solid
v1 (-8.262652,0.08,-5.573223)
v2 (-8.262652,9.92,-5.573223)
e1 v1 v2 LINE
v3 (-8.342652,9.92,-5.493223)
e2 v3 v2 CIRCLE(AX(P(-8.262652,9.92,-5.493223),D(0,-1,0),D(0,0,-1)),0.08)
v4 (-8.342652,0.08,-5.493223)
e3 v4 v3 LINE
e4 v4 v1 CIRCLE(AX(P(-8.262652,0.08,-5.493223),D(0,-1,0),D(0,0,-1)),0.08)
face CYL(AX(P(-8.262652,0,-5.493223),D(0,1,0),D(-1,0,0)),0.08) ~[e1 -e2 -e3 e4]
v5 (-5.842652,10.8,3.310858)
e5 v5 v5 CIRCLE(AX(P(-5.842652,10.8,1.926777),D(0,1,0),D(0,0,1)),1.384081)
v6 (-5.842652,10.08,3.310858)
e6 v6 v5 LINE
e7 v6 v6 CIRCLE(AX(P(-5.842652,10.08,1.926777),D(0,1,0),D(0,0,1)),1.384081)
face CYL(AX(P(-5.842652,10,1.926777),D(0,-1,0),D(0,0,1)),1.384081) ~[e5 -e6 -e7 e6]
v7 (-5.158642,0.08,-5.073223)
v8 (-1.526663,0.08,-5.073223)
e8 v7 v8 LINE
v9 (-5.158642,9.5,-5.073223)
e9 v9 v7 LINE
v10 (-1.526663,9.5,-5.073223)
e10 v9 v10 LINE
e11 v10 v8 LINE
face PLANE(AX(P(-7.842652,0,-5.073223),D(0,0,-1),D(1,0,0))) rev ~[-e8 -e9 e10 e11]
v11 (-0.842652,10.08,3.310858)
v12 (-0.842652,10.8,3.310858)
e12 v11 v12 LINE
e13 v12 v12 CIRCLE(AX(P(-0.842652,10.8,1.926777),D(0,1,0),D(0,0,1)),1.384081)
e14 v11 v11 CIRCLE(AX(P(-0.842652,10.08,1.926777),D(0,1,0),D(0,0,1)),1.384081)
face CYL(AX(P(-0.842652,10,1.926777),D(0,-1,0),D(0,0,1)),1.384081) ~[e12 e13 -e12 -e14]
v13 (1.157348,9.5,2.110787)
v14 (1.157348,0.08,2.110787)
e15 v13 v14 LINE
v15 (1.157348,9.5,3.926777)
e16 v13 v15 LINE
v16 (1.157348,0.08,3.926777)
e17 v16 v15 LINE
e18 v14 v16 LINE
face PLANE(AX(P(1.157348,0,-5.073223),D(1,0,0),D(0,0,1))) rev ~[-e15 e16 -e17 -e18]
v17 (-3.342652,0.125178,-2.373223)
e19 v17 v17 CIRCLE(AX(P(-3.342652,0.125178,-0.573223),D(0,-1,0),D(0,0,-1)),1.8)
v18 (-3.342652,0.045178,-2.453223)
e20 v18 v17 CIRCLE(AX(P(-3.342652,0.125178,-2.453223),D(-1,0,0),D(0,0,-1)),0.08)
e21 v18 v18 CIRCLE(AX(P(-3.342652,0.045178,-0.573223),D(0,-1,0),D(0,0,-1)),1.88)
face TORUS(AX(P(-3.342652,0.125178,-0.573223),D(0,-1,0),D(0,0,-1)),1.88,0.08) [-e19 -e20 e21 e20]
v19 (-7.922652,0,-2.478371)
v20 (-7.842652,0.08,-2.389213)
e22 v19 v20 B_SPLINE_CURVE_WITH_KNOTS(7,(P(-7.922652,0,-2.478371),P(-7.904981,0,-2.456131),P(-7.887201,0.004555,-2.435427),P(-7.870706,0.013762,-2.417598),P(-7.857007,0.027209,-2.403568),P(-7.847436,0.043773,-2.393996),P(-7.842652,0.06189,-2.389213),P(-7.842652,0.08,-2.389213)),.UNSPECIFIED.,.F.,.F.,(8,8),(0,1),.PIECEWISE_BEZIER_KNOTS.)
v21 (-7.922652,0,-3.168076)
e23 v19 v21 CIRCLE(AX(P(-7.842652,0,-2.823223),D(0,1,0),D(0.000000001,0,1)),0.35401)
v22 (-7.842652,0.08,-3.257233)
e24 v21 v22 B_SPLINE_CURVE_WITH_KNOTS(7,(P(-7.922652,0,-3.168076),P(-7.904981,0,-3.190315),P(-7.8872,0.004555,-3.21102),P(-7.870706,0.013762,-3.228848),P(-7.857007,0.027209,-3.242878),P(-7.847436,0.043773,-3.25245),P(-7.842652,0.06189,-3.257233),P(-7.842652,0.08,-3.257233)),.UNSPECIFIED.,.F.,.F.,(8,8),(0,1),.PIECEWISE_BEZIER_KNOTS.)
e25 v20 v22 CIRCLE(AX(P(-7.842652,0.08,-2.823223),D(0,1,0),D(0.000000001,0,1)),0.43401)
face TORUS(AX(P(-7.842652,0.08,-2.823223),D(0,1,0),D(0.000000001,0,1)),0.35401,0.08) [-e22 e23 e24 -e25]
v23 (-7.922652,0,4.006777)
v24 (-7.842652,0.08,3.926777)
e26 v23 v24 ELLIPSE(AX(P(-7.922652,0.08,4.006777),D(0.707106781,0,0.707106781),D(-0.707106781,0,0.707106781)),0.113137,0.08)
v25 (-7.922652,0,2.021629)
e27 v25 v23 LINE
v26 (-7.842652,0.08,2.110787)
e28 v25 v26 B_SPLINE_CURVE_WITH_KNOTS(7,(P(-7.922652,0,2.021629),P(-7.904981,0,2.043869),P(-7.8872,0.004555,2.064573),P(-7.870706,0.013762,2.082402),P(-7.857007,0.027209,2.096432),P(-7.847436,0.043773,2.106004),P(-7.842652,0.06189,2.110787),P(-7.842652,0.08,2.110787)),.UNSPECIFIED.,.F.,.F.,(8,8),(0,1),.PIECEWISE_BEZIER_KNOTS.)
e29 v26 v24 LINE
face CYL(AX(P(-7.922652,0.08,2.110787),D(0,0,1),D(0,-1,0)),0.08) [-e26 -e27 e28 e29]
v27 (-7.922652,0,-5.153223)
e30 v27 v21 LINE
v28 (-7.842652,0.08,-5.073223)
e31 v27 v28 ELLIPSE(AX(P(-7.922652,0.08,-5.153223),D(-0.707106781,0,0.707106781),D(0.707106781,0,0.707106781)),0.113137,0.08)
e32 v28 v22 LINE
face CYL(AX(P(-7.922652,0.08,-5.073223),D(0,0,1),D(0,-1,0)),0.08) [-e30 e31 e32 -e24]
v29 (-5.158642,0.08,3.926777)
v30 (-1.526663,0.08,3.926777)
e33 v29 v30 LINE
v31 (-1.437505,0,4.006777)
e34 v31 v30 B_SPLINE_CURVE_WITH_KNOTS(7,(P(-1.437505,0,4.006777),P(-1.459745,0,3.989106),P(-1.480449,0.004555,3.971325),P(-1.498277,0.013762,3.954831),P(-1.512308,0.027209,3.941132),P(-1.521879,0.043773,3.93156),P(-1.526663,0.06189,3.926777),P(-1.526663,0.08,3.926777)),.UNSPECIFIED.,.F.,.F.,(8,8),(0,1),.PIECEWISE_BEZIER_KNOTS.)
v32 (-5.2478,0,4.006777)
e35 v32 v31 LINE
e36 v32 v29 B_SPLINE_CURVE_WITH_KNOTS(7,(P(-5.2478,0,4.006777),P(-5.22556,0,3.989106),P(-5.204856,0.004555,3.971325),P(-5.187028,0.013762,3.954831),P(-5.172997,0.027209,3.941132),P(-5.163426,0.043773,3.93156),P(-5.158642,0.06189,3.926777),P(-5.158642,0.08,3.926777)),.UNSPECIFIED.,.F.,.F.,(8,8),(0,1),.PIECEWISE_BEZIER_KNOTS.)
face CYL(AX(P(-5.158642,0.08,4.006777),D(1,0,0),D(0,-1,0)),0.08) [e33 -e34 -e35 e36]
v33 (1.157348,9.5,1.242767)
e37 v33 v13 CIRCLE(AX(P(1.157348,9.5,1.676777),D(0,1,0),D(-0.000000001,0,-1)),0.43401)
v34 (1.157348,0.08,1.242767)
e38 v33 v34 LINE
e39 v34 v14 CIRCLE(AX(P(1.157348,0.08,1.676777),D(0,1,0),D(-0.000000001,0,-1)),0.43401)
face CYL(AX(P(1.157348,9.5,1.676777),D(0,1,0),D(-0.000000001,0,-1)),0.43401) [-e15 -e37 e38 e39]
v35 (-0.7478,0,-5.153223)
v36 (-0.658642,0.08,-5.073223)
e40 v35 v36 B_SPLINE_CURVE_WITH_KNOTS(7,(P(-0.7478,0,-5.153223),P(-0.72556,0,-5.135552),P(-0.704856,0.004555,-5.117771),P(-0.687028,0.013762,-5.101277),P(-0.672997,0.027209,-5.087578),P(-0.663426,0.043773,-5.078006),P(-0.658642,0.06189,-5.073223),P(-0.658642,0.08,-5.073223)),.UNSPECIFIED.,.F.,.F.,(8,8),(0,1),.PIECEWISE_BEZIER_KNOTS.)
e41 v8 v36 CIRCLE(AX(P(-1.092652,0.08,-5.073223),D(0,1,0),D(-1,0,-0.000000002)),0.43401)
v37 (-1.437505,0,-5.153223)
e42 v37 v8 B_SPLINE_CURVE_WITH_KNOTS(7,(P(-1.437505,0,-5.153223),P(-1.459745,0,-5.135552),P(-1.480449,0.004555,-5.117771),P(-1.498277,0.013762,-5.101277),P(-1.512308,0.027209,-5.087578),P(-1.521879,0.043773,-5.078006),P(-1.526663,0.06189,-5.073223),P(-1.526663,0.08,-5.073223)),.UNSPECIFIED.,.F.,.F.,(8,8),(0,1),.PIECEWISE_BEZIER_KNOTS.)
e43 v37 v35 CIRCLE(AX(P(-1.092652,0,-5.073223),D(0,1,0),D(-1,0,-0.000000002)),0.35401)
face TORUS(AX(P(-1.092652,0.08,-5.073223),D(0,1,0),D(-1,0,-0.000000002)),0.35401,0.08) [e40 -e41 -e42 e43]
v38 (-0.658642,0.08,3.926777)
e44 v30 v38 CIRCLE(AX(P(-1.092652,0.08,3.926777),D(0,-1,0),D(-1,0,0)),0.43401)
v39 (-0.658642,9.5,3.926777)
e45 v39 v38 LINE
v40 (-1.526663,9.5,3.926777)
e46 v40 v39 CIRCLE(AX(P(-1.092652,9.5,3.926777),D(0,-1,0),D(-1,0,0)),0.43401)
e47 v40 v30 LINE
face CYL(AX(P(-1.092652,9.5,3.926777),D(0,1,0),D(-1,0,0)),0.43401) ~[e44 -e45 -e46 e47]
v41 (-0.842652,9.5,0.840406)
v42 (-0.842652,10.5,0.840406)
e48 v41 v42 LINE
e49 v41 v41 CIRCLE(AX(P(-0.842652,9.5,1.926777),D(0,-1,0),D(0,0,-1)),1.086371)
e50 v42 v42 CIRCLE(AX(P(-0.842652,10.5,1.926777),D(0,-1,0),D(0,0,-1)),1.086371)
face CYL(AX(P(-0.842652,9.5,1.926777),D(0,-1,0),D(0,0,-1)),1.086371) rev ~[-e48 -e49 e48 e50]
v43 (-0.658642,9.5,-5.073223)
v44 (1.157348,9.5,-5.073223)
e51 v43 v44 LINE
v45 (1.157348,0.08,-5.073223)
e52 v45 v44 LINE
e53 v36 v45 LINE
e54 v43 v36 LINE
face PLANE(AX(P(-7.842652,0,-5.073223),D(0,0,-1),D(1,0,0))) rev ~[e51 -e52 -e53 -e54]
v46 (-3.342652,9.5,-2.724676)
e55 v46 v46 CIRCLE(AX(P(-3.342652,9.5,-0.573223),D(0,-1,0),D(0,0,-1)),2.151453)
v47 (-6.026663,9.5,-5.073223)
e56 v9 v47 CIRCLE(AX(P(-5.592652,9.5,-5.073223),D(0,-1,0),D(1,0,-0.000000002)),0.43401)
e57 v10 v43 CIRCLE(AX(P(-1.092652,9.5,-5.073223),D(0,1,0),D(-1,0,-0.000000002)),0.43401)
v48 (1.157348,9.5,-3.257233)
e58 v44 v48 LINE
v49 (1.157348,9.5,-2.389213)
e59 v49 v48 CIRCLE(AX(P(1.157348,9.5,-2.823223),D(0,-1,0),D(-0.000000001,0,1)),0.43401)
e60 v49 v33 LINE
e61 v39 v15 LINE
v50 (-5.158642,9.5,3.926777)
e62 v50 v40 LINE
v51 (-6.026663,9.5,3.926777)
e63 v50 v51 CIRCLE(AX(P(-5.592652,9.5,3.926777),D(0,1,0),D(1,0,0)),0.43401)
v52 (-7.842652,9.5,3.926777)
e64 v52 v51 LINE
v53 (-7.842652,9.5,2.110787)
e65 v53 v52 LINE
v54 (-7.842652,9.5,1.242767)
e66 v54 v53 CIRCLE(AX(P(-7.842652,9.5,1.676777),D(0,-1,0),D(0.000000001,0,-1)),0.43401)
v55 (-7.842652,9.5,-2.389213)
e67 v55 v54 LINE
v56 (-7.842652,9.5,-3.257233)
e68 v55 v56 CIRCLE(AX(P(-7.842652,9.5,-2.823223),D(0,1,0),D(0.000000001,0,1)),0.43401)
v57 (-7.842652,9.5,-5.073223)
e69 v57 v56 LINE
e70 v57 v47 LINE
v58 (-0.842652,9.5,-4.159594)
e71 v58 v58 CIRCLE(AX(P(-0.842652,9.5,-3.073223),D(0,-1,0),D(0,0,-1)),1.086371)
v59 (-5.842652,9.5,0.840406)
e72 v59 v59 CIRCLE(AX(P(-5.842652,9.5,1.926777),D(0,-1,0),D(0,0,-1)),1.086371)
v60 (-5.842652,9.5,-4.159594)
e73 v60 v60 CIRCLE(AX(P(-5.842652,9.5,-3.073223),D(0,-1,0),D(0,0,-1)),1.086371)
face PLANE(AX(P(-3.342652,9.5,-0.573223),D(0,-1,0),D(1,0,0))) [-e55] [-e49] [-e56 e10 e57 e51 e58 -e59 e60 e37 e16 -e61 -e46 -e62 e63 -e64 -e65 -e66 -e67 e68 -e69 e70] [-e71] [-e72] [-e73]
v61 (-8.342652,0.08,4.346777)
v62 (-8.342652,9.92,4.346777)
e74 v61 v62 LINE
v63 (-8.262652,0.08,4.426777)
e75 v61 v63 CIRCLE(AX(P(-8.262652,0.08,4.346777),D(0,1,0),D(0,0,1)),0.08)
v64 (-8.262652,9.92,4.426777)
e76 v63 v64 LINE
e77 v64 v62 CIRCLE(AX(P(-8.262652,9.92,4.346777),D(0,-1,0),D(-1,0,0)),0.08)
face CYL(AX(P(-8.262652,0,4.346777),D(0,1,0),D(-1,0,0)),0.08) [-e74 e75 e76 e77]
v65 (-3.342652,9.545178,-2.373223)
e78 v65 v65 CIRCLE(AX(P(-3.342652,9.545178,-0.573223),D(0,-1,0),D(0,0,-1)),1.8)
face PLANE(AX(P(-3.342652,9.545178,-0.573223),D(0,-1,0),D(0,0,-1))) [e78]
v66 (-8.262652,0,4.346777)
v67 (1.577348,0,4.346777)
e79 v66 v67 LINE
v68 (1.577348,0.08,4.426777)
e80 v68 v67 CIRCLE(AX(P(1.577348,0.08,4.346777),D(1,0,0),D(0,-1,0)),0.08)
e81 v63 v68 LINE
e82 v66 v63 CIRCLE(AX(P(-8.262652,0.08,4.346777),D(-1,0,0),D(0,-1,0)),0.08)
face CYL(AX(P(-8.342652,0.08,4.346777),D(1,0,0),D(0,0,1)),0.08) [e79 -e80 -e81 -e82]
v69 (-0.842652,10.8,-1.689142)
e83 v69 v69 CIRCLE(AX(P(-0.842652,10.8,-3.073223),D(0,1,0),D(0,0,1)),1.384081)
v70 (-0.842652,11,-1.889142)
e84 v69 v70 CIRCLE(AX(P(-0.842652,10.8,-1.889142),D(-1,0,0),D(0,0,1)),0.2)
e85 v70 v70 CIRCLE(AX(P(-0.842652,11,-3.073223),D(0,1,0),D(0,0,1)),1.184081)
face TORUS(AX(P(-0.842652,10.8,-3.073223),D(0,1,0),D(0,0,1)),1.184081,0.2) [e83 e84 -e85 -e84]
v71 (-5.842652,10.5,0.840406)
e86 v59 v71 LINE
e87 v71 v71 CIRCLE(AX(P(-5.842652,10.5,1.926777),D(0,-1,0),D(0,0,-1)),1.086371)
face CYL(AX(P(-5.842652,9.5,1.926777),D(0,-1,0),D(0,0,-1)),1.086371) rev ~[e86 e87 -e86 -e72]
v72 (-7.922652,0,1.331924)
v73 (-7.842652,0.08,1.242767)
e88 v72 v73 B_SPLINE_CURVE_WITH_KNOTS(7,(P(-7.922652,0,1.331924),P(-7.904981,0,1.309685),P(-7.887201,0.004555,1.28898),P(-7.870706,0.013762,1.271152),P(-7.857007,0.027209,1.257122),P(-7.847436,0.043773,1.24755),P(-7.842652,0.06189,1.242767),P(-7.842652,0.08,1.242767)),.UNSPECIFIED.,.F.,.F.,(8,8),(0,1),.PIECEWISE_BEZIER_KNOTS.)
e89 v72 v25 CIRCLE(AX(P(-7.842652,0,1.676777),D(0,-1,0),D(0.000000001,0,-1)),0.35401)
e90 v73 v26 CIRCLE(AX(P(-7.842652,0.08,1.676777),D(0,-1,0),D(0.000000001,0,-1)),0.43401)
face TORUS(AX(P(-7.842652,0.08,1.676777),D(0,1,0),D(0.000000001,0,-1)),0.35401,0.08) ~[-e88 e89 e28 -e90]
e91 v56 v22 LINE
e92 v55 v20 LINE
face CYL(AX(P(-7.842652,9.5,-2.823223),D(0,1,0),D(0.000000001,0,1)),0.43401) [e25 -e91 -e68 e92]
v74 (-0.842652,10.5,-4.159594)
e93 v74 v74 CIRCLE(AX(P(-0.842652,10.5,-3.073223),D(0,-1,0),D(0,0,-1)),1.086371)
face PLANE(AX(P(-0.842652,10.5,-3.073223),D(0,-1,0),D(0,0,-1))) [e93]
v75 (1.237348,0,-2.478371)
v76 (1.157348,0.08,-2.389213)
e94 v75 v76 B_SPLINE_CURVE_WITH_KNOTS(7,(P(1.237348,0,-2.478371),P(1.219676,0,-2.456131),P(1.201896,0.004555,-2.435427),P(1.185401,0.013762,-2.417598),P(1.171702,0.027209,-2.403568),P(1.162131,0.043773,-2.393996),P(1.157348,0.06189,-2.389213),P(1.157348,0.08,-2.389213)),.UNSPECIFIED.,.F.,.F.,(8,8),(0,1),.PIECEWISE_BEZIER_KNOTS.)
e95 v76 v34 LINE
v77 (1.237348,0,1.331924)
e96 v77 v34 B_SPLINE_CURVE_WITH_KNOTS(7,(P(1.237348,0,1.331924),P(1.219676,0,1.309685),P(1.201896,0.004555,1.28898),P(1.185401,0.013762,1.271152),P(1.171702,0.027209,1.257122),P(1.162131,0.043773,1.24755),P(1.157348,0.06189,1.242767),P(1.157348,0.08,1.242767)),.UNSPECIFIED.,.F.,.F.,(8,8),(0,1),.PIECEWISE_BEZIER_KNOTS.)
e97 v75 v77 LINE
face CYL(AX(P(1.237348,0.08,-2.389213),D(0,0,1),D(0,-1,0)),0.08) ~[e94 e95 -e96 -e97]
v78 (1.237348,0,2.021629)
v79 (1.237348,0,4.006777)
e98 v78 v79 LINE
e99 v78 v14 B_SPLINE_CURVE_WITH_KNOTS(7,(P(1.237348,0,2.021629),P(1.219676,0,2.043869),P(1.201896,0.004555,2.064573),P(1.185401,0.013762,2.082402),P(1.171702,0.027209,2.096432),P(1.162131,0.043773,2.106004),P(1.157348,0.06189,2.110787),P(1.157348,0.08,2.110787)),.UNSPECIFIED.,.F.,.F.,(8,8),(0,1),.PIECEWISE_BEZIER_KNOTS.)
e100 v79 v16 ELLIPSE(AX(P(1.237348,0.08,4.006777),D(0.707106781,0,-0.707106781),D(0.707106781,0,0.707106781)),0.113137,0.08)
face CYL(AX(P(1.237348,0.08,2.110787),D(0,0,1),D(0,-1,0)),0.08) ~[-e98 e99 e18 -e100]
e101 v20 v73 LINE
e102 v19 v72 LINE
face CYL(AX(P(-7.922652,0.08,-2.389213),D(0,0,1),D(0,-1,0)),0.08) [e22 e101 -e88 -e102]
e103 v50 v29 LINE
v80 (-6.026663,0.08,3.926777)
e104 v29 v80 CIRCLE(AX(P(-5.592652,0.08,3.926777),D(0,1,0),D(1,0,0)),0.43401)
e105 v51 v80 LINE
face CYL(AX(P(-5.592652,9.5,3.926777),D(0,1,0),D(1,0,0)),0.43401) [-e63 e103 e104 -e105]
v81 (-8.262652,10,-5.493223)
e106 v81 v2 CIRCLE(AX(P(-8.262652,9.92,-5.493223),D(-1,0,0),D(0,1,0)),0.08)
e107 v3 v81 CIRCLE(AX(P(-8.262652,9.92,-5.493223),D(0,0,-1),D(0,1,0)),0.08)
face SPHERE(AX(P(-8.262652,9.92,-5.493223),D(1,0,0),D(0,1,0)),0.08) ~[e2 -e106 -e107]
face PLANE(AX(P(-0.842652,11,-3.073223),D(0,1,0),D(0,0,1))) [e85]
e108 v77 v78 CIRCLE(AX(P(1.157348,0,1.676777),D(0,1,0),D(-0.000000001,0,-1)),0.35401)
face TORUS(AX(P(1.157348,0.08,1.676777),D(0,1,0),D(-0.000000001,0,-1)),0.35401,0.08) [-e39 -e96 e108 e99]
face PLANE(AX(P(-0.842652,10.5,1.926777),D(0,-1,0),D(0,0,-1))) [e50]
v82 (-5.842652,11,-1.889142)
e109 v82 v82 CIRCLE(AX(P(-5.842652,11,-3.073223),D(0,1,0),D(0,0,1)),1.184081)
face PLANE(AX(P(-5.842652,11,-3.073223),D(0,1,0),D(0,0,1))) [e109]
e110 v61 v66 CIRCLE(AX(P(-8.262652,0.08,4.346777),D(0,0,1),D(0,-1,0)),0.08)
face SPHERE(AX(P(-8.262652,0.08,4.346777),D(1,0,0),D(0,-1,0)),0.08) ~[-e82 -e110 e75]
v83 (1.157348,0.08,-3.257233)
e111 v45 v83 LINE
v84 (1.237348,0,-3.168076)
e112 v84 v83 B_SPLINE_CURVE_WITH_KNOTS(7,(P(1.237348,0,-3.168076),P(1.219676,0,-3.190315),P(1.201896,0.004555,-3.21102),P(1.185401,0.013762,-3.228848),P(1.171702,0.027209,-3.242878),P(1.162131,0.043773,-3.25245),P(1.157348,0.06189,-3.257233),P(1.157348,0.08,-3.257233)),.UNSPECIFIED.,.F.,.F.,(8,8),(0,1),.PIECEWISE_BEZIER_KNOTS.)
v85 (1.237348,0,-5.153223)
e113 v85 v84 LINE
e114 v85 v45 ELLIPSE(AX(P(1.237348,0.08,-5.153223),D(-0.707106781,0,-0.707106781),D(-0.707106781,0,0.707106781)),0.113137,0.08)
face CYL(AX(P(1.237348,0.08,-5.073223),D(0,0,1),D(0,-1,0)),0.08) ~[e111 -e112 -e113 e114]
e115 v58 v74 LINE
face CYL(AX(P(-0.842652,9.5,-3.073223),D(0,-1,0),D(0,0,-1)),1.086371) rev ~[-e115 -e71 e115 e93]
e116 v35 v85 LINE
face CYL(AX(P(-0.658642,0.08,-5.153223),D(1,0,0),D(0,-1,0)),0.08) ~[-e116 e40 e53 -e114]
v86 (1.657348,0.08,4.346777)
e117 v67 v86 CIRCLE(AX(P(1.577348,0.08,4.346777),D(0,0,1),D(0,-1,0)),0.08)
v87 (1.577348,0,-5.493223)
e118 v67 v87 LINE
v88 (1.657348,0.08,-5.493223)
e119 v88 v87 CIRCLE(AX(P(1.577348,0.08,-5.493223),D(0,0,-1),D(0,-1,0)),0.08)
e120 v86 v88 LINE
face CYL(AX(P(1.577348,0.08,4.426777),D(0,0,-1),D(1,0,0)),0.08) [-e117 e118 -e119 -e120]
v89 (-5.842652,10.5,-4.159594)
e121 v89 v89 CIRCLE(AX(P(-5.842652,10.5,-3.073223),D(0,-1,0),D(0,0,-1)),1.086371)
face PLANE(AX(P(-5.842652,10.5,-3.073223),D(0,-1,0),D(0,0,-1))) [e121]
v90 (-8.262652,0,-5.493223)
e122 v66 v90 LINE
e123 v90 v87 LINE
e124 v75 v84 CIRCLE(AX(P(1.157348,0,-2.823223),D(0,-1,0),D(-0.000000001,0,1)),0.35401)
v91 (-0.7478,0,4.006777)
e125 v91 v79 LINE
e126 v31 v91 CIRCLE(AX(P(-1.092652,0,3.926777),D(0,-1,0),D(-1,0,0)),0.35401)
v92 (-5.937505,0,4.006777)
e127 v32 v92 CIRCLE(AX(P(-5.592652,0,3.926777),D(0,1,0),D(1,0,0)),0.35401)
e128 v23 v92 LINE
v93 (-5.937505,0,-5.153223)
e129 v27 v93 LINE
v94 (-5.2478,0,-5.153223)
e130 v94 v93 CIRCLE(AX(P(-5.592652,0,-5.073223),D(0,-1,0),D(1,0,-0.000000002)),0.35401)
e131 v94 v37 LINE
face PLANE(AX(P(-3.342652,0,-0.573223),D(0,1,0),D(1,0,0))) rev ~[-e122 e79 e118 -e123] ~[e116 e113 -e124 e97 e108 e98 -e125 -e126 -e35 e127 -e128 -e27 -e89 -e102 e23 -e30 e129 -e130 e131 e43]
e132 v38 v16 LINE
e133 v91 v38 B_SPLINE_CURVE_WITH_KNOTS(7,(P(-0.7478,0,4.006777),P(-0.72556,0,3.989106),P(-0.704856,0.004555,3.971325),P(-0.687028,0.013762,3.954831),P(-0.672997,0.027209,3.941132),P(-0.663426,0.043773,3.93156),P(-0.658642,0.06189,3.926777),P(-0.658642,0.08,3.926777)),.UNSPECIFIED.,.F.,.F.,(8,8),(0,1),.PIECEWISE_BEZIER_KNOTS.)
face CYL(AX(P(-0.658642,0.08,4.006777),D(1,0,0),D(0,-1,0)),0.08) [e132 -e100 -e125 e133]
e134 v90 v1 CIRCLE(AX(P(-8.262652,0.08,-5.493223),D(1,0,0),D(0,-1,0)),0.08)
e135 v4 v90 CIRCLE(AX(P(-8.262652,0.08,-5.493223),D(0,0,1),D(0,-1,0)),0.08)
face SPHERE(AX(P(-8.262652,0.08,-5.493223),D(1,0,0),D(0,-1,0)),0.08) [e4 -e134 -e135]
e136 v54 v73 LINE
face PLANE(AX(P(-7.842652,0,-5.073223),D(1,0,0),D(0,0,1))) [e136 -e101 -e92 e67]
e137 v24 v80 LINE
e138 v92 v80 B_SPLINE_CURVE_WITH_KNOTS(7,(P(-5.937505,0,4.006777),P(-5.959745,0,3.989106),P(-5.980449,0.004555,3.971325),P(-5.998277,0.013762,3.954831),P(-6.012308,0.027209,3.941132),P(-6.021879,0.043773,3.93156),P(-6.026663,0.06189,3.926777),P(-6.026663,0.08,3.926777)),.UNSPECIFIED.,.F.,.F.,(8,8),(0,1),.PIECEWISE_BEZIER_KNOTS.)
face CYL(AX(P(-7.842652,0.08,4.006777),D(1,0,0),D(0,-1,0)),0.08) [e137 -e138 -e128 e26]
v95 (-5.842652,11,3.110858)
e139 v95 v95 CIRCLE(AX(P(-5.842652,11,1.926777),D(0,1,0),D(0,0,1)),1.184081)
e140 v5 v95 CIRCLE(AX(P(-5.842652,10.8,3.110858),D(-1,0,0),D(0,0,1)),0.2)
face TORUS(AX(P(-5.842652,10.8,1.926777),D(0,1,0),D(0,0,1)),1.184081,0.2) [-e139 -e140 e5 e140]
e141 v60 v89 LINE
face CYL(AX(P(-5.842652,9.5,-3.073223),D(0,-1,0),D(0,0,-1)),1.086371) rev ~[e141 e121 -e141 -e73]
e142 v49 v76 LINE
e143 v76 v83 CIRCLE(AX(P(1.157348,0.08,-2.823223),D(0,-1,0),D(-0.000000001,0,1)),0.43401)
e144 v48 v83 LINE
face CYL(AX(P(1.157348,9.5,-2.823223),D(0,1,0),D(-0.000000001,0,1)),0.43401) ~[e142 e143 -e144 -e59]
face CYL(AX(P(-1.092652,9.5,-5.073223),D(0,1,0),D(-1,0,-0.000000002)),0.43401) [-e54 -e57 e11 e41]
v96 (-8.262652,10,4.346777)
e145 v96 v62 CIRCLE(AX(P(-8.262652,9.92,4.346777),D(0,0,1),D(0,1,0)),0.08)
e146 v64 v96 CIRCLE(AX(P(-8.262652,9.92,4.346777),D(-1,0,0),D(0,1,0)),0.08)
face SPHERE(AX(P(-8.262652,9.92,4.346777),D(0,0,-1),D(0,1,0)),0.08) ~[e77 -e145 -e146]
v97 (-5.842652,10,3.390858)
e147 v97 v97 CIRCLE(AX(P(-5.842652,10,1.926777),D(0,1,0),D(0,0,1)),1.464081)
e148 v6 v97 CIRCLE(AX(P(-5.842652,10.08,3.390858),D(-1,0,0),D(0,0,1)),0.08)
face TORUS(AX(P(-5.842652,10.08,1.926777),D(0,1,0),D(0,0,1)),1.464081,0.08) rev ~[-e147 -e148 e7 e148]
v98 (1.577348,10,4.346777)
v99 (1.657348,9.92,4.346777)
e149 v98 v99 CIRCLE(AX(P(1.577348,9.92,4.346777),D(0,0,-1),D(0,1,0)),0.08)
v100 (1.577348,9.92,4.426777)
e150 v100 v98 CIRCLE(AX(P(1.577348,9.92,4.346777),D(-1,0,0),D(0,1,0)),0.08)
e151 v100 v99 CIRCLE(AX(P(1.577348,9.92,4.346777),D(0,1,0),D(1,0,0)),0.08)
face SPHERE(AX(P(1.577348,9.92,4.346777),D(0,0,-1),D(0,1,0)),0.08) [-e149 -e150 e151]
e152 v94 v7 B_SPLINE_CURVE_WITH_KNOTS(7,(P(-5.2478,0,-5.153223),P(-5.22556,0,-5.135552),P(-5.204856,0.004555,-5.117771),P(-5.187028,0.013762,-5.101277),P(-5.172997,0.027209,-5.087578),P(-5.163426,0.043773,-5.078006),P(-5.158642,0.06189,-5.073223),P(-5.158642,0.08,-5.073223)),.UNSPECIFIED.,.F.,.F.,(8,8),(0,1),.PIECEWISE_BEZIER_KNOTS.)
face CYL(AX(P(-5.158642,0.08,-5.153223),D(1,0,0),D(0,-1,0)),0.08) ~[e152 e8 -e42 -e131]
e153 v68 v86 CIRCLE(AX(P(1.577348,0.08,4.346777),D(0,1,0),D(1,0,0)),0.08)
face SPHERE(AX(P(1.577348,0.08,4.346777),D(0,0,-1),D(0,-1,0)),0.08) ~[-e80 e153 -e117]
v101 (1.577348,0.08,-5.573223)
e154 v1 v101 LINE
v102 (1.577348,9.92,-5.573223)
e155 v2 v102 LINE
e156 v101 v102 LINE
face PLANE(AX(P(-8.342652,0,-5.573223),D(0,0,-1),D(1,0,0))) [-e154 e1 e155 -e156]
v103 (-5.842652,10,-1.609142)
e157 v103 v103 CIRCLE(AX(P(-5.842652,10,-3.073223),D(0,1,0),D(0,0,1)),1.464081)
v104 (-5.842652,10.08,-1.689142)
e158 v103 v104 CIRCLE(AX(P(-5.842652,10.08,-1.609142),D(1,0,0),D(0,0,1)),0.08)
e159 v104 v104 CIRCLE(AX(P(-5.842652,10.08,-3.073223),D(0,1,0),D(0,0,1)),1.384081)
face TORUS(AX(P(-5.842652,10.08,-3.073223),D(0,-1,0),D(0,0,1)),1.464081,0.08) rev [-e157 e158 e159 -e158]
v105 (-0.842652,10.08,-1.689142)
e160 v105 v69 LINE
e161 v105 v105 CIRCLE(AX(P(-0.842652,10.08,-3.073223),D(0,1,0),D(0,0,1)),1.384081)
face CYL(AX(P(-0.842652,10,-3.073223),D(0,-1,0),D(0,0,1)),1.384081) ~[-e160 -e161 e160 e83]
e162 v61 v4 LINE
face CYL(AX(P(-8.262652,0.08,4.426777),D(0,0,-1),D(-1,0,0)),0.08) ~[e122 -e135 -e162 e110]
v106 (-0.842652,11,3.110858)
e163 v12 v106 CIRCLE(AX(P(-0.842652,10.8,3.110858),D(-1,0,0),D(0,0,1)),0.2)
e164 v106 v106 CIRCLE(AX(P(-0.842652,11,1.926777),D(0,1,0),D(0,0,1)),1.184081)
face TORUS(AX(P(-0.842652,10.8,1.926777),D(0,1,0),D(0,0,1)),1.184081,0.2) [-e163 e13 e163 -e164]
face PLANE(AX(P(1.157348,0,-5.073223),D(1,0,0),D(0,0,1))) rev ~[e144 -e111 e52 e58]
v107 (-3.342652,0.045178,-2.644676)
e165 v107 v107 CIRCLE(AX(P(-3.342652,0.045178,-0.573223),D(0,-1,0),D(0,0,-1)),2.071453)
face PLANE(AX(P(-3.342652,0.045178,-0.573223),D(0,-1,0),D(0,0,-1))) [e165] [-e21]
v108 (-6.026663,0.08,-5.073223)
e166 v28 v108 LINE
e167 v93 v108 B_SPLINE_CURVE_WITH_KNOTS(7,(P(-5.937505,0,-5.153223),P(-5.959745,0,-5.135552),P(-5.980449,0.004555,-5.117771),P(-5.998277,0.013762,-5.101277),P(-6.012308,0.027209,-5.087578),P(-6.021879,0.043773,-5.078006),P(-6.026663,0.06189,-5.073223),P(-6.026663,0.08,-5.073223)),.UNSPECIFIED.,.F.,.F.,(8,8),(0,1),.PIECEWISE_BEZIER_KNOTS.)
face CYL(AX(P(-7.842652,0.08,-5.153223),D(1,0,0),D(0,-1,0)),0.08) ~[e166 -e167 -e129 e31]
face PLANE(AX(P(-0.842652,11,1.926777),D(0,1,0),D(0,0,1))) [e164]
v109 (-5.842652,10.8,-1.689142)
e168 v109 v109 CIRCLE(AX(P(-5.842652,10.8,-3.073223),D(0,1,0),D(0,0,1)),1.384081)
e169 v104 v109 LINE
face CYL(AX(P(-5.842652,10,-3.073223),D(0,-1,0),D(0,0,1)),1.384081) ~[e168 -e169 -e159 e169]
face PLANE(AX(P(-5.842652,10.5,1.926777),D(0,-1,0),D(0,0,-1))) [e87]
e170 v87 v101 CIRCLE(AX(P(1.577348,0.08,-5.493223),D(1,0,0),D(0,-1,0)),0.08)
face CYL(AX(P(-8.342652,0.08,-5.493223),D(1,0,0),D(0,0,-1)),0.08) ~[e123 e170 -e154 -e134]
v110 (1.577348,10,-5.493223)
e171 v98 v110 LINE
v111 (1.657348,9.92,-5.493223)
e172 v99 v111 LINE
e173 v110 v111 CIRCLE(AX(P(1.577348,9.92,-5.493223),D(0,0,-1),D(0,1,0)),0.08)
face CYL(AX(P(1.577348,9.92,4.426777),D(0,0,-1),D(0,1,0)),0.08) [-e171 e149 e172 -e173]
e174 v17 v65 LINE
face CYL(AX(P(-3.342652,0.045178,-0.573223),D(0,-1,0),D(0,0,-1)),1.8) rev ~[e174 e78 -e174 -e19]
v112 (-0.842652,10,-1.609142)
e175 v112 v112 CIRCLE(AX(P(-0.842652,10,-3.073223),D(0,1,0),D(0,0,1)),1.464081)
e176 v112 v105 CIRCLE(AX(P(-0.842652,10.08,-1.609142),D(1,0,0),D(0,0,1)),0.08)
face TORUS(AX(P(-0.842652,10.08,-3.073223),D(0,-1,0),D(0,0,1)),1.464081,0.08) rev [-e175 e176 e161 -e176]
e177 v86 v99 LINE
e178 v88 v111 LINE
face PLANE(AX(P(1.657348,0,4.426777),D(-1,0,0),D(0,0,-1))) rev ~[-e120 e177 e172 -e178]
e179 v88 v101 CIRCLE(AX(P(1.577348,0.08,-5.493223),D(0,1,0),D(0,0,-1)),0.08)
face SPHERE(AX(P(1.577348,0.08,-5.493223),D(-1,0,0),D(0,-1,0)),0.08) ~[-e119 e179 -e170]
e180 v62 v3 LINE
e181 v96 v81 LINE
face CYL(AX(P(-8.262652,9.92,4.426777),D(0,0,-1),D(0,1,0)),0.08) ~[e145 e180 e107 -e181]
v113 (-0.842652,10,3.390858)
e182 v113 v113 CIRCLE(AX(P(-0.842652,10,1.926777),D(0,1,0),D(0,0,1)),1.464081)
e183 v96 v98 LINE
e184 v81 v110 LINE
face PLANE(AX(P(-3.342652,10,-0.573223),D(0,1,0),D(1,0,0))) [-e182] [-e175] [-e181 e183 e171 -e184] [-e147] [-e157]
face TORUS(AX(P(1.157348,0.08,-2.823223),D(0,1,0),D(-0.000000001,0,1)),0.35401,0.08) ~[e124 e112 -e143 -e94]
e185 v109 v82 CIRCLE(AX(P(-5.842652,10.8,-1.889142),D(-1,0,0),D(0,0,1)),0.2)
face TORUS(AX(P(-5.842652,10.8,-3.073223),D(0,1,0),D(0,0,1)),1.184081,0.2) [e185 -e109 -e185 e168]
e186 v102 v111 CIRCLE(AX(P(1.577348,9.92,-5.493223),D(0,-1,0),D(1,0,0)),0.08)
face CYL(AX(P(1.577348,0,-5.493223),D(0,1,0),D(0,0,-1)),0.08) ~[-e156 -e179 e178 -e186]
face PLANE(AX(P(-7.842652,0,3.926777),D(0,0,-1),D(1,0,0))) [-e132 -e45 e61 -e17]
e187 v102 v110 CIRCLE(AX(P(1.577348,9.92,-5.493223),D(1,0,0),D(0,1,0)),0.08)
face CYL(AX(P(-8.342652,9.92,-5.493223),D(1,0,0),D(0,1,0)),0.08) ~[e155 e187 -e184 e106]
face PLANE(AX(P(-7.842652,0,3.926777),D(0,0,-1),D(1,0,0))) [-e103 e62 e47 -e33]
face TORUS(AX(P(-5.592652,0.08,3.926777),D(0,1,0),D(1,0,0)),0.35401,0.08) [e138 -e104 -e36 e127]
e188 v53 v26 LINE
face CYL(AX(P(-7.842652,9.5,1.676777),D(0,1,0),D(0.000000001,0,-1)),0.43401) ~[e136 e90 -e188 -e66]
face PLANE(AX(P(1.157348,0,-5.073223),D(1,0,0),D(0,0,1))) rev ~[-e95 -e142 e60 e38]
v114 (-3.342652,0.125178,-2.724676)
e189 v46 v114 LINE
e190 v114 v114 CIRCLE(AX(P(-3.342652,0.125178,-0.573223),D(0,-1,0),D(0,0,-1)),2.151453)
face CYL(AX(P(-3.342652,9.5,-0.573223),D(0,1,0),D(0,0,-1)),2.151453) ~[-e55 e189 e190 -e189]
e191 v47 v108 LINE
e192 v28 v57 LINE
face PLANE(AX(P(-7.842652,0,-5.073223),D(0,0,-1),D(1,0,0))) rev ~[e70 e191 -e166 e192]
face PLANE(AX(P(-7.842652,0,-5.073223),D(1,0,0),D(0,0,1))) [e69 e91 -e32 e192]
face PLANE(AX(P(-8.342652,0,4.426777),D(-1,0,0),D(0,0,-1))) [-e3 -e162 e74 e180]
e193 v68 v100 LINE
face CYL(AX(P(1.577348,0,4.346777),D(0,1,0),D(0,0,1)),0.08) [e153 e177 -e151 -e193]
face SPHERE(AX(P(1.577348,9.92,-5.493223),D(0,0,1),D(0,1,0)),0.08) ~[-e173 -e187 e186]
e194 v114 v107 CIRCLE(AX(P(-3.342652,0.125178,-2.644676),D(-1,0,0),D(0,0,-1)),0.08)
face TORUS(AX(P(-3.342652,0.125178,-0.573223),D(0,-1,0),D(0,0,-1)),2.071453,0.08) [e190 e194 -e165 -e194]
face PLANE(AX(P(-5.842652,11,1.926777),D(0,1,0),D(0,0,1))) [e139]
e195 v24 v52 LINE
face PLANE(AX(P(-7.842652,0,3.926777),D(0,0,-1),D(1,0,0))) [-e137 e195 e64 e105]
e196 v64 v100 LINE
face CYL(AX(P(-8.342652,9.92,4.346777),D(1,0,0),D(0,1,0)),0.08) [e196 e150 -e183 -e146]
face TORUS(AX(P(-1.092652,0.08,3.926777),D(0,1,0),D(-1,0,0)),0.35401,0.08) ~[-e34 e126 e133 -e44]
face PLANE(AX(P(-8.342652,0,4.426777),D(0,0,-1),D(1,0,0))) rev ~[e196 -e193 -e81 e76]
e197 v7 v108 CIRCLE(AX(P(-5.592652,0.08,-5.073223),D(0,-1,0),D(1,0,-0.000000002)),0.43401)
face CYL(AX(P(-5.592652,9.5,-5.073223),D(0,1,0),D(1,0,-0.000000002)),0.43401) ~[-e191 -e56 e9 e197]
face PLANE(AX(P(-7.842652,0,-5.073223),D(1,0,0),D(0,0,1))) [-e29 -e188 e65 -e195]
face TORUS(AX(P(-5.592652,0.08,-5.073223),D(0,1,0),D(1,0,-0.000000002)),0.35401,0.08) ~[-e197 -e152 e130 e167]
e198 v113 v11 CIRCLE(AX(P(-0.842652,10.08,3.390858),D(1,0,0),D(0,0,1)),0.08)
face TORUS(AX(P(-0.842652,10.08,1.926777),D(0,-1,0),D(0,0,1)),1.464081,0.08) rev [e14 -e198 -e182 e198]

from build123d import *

# Parameters (mm, degrees)
SKETCH1_W           = 10
SKETCH1_H           = 10
BOX_DEPTH           = 10
SKETCH2_W           = 9
SKETCH2_H           = 9
CUT_EXTRUDE1_DEPTH  = 9.5
SKETCH3_R           = 1.384081264
PINS_DEPTH          = 1
SKETCH4_R           = 2.151452642
BOSS_EXTRUDE3_DEPTH = 9.45482151
SKETCH5_R           = 1.8
CUT_EXTRUDE2_DEPTH  = 9.5
SKETCH6_R           = 1.086370505
CUT_EXTRUDE3_DEPTH  = 1
BOSS_EXTRUDE4_DEPTH = 9.5
FILLET5_R           = 0.2
FILLET6_R           = 0.08


with BuildPart() as part:
    # Sketch1 → box (new body)
    with BuildSketch(Plane(origin=(0, 0, 0), x_dir=(1, 0, 0), z_dir=(0, 1, 0))):
        with Locations((-3.342652458, 0.57322318)):
            Rectangle(SKETCH1_W, SKETCH1_H)
    extrude(amount=BOX_DEPTH)

    # Sketch2 → Cut-Extrude1 (cut)
    with BuildSketch(Plane.XZ):
        with Locations((-3.342652458, -0.57322318)):
            Rectangle(SKETCH2_W, SKETCH2_H)
    extrude(amount=-CUT_EXTRUDE1_DEPTH, mode=Mode.SUBTRACT)

    # Sketch3 → pins (add)
    with BuildSketch(Plane(origin=(0, 10, 0), x_dir=(1, 0, 0), z_dir=(0, 1, 0))):
        with Locations(Location((-5.842652458, 3.07322318, 0), (0, 0, 270))):
            Circle(SKETCH3_R)
        with Locations(Location((-0.842652458, 3.07322318, 0), (0, 0, 270))):
            Circle(SKETCH3_R)
        with Locations(Location((-0.842652458, -1.92677682, 0), (0, 0, 270))):
            Circle(SKETCH3_R)
        with Locations(Location((-5.842652458, -1.92677682, 0), (0, 0, 270))):
            Circle(SKETCH3_R)
    extrude(amount=PINS_DEPTH)

    # Sketch4 → Boss-Extrude3 (add)
    with BuildSketch(Plane.XZ.offset(-9.5)):
        with Locations(Location((-3.342652458, -0.57322318, 0), (0, 0, 270))):
            Circle(SKETCH4_R)
    extrude(amount=BOSS_EXTRUDE3_DEPTH)

    # Sketch5 → Cut-Extrude2 (cut)
    with BuildSketch(Plane.XZ.offset(-0.04517849)):
        with Locations(Location((-3.342652458, -0.57322318, 0), (0, 0, 270))):
            Circle(SKETCH5_R)
    extrude(amount=-CUT_EXTRUDE2_DEPTH, mode=Mode.SUBTRACT)

    # Sketch6 → Cut-Extrude3 (cut)
    with BuildSketch(Plane.XZ.offset(-9.5)):
        with Locations(Location((-5.842652458, 1.92677682, 0), (0, 0, 270))):
            Circle(SKETCH6_R)
        with Locations(Location((-0.842652458, 1.92677682, 0), (0, 0, 270))):
            Circle(SKETCH6_R)
        with Locations(Location((-0.842652458, -3.07322318, 0), (0, 0, 270))):
            Circle(SKETCH6_R)
        with Locations(Location((-5.842652458, -3.07322318, 0), (0, 0, 270))):
            Circle(SKETCH6_R)
    extrude(amount=-CUT_EXTRUDE3_DEPTH, mode=Mode.SUBTRACT)

    # Sketch8 → Boss-Extrude4 (add)
    with BuildSketch(Plane.XZ.offset(-9.5)):
        with BuildLine():
            Line((-6.026662526, 3.92677682), (-5.15864239, 3.92677682))
            ThreePointArc((-5.15864239, 3.92677682), (-5.592652458, 3.492766752), (-6.026662526, 3.92677682))
        make_face()
        with BuildLine():
            Line((-7.842652458, 2.110786889), (-7.842652458, 1.242766752))
            ThreePointArc((-7.842652458, 1.242766752), (-7.40864239, 1.67677682), (-7.842652458, 2.110786889))
        make_face()
        with BuildLine():
            Line((-0.65864239, -5.07322318), (-1.526662526, -5.07322318))
            ThreePointArc((-1.526662526, -5.07322318), (-1.092652458, -4.639213111), (-0.65864239, -5.07322318))
        make_face()
        with BuildLine():
            Line((1.157347542, -3.257233248), (1.157347542, -2.389213111))
            ThreePointArc((1.157347542, -2.389213111), (0.723337474, -2.82322318), (1.157347542, -3.257233248))
        make_face()
        with BuildLine():
            Line((-6.026662526, -5.07322318), (-5.15864239, -5.07322318))
            ThreePointArc((-5.15864239, -5.07322318), (-5.592652458, -4.639213111), (-6.026662526, -5.07322318))
        make_face()
        with BuildLine():
            Line((-7.842652458, -3.257233248), (-7.842652458, -2.389213111))
            ThreePointArc((-7.842652458, -2.389213111), (-7.40864239, -2.82322318), (-7.842652458, -3.257233248))
        make_face()
        with BuildLine():
            Line((1.157347542, 2.110786889), (1.157347542, 1.242766752))
            ThreePointArc((1.157347542, 1.242766752), (0.723337474, 1.67677682), (1.157347542, 2.110786889))
        make_face()
        with BuildLine():
            Line((-0.65864239, 3.92677682), (-1.526662526, 3.92677682))
            ThreePointArc((-1.526662526, 3.92677682), (-1.092652458, 3.492766752), (-0.65864239, 3.92677682))
        make_face()
    extrude(amount=BOSS_EXTRUDE4_DEPTH)

    # Fillet5
    fillet5_edges = [part.edges().sort_by_distance(p)[0] for p in [
        (-5.842652458, 11, -4.457304443),
        (-0.842652458, 11, -4.457304443),
        (-0.842652458, 11, 0.542695557),
        (-5.842652458, 11, 0.542695557),
    ]]
    fillet(fillet5_edges, radius=FILLET5_R)

    # Fillet6
    fillet6_edges = [part.edges().sort_by_distance(p)[0] for p in [
        (1.657347542, 10, -0.57322318),
        (-7.842652458, 0, -4.165228214),
        (-7.40864239, 0, -2.82322318),
        (1.157347542, 0, 3.018781854),
        (0.723337474, 0, 1.67677682),
        (-3.342652458, 0, 3.92677682),
        (-1.092652458, 0, 3.492766752),
        (-3.342652458, 10, -5.57322318),
        (0.249352576, 0, 3.92677682),
        (-7.842652458, 0, 3.018781854),
        (-6.934657492, 0, -5.07322318),
        (1.157347542, 0, -4.165228214),
        (-5.842652458, 10, -4.457304443),
        (-0.842652458, 10, -4.457304443),
        (-0.842652458, 10, 0.542695557),
        (-5.842652458, 10, 0.542695557),
        (-8.342652458, 10, -0.57322318),
        (-3.342652458, 0.04517849, 1.578229463),
        (-3.342652458, 0, -5.57322318),
        (-3.342652458, 0.04517849, 1.22677682),
        (1.657347542, 0, -0.57322318),
        (-3.342652458, 0, 4.42677682),
        (-8.342652458, 0, -0.57322318),
        (-6.934657492, 0, 3.92677682),
        (-5.592652458, 0, 3.492766752),
        (-3.342652458, 10, 4.42677682),
        (-7.842652458, 0, -0.57322318),
        (-8.342652458, 5, -5.57322318),
        (1.657347542, 5, -5.57322318),
        (-7.40864239, 0, 1.67677682),
        (1.657347542, 5, 4.42677682),
        (-8.342652458, 5, 4.42677682),
        (0.249352576, 0, -5.07322318),
        (-1.092652458, 0, -4.639213111),
        (1.157347542, 0, -0.57322318),
        (0.723337474, 0, -2.82322318),
        (-3.342652458, 0, -5.07322318),
        (-5.592652458, 0, -4.639213111),
    ]]
    fillet(fillet6_edges, radius=FILLET6_R)


solid = part.part
